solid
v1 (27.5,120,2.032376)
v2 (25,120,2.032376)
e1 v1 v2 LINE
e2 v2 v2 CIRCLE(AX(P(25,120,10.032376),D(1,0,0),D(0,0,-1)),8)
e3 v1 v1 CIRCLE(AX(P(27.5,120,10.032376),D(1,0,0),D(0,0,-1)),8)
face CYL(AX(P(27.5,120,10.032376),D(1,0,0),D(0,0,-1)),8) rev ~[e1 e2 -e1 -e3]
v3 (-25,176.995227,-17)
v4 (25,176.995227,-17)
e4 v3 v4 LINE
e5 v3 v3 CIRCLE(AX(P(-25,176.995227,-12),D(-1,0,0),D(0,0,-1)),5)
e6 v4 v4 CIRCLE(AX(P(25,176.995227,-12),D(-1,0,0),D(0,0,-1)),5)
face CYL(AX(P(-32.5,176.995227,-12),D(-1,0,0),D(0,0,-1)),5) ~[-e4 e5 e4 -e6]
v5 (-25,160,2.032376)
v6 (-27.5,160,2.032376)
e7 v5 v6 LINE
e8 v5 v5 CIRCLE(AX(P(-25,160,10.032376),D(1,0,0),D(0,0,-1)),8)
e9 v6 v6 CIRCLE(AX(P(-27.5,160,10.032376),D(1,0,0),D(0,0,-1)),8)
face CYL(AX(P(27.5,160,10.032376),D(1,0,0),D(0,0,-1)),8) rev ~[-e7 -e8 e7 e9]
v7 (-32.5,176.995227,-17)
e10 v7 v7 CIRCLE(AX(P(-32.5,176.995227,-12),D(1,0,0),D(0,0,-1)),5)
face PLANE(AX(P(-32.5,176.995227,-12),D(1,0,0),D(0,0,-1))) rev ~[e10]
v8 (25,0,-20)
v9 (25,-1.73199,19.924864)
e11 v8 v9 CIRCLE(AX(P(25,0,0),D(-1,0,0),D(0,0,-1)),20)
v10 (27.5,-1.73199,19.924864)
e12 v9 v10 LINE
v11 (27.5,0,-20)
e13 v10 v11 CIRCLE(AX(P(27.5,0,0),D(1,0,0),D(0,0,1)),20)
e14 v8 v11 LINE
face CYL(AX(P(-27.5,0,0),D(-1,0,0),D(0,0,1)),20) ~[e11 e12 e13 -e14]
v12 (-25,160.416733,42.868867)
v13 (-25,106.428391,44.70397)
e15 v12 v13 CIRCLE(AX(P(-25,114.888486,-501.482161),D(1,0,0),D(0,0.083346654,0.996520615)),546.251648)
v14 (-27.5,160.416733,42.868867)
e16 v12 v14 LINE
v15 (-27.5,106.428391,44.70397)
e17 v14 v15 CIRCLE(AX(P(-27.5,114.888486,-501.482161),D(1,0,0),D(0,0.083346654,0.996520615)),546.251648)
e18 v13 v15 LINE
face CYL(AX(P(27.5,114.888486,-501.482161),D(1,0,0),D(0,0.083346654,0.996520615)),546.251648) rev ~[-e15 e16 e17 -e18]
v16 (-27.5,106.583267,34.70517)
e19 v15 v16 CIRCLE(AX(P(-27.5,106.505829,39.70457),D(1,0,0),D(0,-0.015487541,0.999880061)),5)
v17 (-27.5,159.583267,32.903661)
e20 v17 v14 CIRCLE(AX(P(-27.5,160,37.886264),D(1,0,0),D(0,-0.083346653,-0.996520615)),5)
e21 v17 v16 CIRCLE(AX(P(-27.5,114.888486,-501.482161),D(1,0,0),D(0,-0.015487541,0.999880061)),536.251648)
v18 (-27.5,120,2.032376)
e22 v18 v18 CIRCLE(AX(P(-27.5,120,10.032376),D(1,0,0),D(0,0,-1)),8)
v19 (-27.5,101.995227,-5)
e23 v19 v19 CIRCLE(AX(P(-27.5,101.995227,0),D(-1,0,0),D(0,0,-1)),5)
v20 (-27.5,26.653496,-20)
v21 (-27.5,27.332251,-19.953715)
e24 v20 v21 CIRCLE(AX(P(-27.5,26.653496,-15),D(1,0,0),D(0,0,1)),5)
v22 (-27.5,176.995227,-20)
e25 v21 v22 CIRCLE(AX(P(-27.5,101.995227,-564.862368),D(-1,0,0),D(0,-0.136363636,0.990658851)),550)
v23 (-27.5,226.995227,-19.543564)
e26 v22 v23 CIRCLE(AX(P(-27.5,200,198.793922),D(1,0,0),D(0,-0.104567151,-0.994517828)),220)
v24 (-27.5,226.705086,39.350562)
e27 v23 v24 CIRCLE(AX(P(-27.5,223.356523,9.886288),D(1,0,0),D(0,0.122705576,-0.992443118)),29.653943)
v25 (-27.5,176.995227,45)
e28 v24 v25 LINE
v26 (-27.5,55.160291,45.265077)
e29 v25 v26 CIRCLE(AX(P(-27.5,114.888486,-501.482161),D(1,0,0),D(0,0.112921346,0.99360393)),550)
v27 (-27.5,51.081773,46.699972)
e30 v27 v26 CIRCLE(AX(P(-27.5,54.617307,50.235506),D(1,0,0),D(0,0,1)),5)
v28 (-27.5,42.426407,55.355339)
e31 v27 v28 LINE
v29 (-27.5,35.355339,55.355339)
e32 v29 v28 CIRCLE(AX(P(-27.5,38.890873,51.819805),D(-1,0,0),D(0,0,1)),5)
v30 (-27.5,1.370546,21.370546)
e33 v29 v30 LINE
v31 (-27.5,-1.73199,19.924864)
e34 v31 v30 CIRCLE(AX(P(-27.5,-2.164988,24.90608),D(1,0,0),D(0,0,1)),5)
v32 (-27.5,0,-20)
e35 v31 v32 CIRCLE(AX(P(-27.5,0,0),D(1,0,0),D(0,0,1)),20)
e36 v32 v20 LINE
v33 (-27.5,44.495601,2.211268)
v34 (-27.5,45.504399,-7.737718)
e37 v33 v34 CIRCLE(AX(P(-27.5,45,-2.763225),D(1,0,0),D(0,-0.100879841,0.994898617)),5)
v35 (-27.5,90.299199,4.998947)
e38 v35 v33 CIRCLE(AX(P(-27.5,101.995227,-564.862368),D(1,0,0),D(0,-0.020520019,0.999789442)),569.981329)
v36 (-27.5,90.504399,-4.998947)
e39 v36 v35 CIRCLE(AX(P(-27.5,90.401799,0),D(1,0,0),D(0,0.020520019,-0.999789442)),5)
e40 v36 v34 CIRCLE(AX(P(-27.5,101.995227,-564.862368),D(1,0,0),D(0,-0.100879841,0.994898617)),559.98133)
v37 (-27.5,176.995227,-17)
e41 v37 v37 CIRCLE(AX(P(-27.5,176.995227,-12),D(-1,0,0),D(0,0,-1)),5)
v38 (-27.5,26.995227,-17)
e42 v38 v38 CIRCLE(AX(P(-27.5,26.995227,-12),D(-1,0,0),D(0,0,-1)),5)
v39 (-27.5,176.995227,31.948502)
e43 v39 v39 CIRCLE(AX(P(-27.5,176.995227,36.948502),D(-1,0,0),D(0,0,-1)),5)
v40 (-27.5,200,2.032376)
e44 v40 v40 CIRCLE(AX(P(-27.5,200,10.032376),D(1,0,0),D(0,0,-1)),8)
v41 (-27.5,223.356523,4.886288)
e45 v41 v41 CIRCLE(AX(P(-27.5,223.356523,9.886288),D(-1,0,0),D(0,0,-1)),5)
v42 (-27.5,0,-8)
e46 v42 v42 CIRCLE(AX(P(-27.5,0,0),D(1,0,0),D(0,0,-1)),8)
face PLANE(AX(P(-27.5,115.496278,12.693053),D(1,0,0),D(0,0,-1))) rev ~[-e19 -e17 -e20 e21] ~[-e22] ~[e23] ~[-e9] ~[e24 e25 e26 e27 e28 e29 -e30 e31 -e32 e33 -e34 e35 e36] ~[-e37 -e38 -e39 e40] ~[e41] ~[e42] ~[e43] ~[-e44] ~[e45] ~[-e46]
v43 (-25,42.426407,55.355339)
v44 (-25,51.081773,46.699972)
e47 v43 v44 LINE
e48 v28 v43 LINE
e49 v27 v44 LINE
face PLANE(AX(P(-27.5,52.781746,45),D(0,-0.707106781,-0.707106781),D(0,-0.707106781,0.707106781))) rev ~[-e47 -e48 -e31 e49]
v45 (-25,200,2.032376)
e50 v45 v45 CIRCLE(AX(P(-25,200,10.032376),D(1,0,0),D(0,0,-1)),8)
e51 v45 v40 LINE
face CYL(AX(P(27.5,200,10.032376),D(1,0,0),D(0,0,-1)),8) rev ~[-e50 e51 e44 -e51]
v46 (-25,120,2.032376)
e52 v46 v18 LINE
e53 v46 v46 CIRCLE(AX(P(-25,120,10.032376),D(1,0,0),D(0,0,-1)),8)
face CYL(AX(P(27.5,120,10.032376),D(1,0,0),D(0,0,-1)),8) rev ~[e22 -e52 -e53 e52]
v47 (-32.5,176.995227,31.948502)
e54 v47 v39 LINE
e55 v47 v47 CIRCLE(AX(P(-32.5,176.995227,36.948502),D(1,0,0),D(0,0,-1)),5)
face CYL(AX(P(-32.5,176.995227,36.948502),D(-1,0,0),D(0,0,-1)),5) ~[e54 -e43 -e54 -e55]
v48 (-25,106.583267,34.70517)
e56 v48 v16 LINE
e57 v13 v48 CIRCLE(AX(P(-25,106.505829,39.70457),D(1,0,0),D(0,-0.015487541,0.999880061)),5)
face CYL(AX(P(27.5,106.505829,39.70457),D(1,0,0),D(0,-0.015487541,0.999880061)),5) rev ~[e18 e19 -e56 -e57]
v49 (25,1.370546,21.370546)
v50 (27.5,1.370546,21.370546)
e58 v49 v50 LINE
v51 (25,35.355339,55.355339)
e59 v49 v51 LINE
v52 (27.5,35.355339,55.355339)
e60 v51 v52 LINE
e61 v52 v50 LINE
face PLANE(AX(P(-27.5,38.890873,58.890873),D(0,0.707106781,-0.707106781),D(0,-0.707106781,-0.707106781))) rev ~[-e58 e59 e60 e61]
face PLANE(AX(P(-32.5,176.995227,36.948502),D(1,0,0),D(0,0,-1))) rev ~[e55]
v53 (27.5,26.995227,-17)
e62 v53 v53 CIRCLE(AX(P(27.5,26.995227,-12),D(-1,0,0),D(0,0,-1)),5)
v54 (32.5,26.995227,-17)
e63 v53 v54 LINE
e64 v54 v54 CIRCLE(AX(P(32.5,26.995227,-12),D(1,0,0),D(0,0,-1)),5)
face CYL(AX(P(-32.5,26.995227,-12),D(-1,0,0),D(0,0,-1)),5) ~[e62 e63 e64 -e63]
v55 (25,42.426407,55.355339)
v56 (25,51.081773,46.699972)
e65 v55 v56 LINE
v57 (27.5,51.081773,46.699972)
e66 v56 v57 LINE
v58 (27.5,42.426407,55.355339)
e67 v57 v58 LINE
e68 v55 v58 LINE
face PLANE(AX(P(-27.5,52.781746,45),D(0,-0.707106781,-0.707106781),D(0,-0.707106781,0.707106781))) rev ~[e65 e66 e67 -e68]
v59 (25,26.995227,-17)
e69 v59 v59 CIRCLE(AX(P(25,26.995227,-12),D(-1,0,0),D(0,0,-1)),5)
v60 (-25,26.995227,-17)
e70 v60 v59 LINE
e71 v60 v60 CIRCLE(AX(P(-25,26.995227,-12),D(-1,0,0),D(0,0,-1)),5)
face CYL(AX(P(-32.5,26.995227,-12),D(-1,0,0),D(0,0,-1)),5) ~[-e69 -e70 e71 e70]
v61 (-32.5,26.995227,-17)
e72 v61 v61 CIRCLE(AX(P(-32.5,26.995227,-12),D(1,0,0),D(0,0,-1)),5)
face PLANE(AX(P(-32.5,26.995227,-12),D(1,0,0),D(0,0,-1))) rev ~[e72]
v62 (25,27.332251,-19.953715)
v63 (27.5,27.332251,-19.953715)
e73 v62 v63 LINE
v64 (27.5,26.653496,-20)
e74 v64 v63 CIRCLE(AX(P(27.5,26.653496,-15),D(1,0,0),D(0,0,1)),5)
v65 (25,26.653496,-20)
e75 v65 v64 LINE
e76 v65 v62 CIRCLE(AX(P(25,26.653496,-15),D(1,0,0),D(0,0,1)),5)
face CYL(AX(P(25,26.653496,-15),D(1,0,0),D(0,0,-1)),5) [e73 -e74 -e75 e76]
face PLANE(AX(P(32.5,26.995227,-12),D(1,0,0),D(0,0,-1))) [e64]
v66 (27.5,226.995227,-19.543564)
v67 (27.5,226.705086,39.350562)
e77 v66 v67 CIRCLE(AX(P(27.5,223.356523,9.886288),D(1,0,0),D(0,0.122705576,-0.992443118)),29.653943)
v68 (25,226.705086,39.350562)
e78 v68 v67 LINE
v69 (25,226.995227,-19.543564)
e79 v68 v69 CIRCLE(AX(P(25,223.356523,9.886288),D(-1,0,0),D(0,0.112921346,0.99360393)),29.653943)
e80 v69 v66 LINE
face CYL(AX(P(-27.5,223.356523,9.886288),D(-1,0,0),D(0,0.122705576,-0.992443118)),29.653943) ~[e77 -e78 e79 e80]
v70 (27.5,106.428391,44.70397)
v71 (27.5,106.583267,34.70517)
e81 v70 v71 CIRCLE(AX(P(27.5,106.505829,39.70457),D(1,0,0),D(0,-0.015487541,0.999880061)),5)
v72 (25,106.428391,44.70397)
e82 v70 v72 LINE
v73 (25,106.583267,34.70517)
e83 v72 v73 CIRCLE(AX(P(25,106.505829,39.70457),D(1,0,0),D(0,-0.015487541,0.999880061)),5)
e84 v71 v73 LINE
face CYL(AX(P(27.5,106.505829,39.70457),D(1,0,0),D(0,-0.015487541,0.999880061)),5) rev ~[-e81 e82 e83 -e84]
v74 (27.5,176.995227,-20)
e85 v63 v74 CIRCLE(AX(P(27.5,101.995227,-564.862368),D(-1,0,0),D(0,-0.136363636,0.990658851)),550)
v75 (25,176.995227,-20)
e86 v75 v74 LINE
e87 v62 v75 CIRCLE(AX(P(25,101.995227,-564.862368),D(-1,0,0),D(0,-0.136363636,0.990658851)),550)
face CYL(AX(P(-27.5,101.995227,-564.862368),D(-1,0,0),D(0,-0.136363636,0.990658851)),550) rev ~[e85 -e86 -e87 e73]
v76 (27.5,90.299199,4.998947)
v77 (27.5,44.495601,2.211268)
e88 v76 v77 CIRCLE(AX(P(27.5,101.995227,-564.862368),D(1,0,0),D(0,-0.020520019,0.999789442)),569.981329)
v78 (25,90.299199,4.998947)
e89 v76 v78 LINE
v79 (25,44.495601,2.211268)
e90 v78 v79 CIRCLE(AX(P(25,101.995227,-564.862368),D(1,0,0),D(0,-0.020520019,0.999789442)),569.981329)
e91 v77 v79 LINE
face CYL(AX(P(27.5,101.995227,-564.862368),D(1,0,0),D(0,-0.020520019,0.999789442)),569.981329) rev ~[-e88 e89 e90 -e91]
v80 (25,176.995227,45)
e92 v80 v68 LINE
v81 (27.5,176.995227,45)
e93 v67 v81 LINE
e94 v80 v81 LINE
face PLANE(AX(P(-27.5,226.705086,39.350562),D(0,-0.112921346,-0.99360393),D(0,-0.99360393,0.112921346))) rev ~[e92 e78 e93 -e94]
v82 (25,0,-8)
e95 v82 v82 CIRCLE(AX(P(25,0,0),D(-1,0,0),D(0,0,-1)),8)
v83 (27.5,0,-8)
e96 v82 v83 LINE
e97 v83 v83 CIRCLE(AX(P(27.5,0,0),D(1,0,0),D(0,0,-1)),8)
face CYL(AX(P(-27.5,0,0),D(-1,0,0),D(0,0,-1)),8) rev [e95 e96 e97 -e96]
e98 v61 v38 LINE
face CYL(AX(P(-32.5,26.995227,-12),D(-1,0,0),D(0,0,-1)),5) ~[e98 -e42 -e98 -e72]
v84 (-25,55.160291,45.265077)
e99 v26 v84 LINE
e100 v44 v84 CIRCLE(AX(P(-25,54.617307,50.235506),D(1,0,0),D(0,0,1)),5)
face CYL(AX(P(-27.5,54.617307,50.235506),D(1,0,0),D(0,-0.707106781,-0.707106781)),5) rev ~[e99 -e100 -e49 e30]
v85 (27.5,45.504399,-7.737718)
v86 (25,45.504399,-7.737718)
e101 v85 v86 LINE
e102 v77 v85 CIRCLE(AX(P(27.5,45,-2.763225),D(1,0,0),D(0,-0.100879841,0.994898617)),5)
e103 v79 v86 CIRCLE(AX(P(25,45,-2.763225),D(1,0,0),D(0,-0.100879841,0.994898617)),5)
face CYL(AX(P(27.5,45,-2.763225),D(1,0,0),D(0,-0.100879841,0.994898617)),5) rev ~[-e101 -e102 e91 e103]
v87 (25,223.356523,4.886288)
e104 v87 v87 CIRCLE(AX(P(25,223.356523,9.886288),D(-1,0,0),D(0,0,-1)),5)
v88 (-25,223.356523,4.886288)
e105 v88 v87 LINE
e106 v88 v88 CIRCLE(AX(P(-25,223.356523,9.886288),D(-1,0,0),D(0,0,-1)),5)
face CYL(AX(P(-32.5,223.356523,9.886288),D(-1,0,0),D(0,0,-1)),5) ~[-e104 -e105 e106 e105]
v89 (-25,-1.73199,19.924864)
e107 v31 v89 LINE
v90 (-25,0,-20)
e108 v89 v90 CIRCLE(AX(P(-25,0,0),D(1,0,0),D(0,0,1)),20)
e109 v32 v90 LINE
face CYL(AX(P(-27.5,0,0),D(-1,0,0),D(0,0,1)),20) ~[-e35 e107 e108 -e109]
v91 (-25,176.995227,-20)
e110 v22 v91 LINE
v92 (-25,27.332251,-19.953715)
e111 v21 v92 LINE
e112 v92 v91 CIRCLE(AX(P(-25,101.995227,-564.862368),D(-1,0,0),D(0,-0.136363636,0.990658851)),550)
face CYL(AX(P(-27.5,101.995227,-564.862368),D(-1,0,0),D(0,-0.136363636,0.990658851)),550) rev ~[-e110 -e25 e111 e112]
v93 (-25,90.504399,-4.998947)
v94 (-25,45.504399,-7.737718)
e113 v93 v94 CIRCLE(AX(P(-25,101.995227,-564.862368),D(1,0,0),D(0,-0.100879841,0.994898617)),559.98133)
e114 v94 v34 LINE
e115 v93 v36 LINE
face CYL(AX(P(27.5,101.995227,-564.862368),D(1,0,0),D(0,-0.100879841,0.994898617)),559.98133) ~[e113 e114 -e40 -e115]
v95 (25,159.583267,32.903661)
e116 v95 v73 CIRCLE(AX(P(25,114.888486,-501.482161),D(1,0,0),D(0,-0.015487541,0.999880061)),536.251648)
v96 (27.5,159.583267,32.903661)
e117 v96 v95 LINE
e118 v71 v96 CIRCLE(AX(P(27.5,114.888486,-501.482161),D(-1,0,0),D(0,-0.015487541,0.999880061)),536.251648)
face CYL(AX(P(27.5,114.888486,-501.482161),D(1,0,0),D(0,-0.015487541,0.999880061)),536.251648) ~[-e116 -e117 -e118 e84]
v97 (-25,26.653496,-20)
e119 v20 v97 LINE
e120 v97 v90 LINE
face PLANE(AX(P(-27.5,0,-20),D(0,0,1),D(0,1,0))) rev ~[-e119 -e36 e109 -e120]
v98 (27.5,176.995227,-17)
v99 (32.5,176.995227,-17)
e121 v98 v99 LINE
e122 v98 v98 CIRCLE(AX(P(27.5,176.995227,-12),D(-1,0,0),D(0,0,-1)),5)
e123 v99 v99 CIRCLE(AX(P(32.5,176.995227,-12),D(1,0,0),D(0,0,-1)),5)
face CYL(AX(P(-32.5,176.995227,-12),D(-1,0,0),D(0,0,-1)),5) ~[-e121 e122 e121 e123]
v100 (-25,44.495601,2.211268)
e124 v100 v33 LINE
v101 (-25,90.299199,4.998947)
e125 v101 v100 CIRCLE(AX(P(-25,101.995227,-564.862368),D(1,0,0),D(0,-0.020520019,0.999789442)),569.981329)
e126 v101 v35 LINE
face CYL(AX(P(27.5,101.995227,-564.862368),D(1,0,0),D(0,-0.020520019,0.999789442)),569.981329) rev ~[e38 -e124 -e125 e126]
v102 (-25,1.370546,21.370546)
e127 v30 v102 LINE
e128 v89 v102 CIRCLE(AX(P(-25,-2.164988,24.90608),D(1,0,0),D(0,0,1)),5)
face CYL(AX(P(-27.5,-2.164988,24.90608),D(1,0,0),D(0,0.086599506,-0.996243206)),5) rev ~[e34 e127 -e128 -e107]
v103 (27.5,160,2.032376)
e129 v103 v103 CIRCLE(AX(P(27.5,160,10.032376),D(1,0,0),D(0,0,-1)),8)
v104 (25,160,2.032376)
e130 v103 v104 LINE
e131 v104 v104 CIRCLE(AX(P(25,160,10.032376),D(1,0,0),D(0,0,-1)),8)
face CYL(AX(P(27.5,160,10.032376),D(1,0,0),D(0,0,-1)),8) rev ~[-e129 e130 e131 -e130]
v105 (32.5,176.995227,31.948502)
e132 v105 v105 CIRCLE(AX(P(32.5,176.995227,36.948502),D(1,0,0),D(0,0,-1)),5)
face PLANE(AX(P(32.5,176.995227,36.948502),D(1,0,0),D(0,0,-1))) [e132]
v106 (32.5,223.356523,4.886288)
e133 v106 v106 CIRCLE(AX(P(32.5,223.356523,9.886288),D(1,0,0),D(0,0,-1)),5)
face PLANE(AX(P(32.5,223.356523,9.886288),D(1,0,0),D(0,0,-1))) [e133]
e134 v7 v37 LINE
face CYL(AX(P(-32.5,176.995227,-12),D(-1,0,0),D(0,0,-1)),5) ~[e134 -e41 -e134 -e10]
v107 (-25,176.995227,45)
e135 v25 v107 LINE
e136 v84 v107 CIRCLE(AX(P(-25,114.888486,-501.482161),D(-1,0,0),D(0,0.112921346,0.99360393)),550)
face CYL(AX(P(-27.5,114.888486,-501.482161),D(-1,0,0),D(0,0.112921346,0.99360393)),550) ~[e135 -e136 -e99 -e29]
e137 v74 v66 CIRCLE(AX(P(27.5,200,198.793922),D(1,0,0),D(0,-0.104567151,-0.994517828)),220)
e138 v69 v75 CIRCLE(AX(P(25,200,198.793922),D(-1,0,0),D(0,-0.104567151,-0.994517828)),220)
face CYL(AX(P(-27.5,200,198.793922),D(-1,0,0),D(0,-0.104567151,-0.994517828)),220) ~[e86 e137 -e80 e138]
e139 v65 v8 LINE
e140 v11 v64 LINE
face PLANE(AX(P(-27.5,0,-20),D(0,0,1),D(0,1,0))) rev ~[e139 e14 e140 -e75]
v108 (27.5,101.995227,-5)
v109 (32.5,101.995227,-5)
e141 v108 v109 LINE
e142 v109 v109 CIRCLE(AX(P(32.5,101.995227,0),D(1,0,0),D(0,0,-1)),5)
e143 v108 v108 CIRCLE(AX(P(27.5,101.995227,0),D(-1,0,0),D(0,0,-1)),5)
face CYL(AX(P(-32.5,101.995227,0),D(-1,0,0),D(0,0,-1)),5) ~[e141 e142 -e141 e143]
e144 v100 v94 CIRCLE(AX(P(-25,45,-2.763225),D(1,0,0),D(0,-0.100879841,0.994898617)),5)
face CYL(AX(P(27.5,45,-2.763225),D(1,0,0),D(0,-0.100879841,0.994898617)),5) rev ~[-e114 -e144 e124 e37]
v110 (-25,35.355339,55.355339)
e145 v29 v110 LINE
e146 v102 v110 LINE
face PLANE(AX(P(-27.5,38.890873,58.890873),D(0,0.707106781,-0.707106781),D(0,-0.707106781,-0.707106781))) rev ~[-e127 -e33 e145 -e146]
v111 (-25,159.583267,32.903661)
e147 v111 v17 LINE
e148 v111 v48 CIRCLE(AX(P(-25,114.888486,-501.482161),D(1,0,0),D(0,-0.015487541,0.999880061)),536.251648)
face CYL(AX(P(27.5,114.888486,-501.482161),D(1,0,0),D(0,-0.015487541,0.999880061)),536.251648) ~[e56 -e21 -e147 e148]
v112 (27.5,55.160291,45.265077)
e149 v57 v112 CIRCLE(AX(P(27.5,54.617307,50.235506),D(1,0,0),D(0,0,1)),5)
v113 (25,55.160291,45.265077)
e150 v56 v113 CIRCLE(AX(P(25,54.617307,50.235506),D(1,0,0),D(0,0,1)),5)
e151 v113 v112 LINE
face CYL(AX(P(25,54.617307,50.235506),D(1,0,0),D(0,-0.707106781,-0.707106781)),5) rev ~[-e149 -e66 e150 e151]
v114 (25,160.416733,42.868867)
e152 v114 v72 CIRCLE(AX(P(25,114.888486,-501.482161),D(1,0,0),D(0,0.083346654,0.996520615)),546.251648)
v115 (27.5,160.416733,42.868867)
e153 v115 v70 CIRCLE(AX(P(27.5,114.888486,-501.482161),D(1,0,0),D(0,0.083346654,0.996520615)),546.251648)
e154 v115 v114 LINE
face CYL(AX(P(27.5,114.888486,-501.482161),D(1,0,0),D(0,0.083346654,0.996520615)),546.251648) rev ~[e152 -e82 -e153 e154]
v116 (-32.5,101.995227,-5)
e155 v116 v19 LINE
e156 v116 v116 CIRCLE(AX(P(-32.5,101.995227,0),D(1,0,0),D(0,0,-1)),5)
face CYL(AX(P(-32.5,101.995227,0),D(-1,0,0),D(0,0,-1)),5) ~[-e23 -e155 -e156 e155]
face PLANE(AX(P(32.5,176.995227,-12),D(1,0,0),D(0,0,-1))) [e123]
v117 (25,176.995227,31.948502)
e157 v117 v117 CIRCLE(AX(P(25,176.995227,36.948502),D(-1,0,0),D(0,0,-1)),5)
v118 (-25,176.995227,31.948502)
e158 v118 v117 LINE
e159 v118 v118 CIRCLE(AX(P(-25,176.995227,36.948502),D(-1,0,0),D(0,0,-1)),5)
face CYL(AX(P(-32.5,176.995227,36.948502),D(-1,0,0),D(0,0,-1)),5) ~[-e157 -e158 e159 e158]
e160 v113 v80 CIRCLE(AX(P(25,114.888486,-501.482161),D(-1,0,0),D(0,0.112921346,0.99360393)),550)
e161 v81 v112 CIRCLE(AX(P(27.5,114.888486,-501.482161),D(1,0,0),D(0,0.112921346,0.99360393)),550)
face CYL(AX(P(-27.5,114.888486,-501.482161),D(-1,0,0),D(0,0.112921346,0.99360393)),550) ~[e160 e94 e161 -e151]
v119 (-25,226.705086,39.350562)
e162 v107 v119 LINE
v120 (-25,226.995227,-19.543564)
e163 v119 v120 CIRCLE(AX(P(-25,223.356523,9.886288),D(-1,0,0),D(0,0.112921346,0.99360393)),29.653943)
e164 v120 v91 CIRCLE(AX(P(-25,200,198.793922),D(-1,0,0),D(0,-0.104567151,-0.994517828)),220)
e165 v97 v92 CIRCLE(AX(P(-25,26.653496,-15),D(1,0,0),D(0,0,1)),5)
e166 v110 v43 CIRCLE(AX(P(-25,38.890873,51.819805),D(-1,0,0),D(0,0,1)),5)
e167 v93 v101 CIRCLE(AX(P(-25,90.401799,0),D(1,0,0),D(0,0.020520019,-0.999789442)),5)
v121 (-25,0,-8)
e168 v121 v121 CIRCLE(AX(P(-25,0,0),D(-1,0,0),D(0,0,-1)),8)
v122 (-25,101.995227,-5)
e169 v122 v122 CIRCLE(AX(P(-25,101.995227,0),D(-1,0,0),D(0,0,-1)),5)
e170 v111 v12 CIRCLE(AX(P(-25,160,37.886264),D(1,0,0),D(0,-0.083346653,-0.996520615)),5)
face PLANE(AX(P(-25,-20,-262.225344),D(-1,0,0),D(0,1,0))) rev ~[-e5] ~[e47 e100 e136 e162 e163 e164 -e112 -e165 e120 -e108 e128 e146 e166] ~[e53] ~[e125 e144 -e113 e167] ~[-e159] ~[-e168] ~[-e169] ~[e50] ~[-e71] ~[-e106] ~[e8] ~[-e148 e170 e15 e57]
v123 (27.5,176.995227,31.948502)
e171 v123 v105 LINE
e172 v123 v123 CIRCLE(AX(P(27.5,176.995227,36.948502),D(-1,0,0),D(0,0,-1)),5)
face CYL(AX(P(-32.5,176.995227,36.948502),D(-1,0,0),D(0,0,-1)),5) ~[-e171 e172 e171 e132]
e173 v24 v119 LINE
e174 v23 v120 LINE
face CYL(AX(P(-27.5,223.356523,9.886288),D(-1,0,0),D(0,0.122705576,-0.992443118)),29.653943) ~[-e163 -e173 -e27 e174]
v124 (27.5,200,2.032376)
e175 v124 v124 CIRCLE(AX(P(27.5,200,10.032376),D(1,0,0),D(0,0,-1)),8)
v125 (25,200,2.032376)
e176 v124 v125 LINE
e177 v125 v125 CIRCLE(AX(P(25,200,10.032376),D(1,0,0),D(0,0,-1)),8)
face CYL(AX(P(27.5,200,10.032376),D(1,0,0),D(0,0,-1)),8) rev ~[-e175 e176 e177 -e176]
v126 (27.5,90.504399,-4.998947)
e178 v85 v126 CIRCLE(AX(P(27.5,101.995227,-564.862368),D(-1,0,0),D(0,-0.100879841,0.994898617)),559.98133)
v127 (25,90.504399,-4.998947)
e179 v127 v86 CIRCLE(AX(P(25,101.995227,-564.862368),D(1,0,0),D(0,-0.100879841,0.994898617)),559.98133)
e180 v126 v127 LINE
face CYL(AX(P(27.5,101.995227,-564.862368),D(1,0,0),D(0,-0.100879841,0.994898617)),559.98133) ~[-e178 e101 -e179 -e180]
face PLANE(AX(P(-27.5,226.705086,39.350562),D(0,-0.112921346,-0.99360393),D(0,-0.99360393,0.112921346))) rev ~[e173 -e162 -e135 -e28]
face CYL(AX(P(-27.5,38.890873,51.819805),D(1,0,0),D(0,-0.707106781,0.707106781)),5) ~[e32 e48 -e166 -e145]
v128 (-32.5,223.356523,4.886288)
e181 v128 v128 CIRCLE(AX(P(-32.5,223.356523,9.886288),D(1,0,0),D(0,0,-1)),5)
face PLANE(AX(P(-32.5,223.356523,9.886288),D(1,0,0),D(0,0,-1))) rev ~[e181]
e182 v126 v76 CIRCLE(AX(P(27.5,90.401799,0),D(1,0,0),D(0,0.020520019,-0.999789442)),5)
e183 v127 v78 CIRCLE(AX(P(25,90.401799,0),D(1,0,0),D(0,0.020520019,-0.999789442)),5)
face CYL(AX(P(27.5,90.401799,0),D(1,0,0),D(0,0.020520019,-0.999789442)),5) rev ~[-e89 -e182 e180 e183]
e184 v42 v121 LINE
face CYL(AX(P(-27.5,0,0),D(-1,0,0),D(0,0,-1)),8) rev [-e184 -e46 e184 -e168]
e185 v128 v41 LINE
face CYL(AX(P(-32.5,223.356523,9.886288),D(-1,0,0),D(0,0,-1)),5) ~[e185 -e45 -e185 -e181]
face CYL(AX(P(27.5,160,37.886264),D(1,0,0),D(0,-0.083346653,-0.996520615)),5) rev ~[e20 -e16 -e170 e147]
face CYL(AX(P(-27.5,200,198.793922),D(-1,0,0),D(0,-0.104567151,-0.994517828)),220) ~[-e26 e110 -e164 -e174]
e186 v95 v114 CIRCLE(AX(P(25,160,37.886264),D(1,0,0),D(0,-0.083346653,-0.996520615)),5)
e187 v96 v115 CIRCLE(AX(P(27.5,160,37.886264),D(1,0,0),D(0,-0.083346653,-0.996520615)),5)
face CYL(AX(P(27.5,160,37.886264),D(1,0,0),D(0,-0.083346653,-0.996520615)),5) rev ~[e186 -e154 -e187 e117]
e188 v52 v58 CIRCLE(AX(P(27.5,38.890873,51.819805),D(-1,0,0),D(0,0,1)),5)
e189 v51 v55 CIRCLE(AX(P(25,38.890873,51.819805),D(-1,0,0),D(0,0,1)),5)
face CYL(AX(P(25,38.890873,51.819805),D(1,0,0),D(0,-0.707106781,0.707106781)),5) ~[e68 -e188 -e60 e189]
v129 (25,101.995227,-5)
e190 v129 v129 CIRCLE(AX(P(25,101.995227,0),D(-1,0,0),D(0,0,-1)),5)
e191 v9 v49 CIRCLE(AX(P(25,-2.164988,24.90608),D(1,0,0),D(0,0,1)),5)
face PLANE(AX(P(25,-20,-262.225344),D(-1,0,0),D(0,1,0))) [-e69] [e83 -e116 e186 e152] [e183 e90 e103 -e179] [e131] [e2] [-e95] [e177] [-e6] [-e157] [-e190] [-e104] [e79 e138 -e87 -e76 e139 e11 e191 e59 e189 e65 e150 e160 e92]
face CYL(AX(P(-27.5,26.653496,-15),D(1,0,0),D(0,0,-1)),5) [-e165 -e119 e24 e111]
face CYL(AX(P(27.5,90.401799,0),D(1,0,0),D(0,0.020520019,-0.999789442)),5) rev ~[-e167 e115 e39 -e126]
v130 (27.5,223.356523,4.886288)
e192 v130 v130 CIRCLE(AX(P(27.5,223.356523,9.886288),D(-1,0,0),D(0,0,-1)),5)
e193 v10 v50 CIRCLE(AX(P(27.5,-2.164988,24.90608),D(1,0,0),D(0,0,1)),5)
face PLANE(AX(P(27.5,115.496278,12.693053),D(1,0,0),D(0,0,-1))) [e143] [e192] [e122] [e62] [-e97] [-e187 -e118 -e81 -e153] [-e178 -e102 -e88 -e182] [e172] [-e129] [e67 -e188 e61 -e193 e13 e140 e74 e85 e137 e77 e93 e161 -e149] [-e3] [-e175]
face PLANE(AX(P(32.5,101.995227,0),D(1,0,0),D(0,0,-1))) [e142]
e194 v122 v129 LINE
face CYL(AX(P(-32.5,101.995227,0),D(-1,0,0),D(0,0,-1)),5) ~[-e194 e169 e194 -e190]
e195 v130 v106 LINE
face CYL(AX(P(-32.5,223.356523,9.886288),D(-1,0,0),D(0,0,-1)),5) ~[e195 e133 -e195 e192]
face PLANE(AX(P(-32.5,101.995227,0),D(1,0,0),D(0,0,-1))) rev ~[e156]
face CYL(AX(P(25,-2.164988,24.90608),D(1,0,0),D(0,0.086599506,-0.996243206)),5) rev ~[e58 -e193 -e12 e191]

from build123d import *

# Parameters (mm, degrees)
DODANIE_WYCI_GNI_CIE1_DEPTH      = 27.5
DODANIE_WYCI_GNI_CIE1_DEPTH_BACK = 27.5
SZKIC1_R                         = 8
WYTNIJ_WYCI_GNI_CIE3_DEPTH       = 262.225344217
WYTNIJ_WYCI_GNI_CIE3_DEPTH_BACK  = 262.225344217
SZKIC2_W                         = 50
SZKIC2_H                         = 271.010465283
DODANIE_WYCI_GNI_CIE2_DEPTH      = 32.5
DODANIE_WYCI_GNI_CIE2_DEPTH_BACK = 32.5
SZKIC4_R                         = 5
WYTNIJ_WYCI_GNI_CIE4_DEPTH       = 262.79893136
WYTNIJ_WYCI_GNI_CIE4_DEPTH_BACK  = 262.79893136
SZKIC5_W                         = 50
SZKIC5_H                         = 2
SZKIC7_R                         = 8
WYTNIJ_WYCI_GNI_CIE5_DEPTH       = 267.612885025
ZAOKR_GLENIE1_R                  = 5


with BuildPart() as part:
    # Szkic1 → Dodanie-wyciągnięcie1 (new, two sides: drawn at the far end of the back side and taken through both)
    with BuildSketch(Plane(origin=(0, 0, 0), x_dir=(0, 0, -1), z_dir=(1, 0, 0)).offset(-DODANIE_WYCI_GNI_CIE1_DEPTH_BACK)):
        with BuildLine():
            Line((20, 0), (20, 26.995226764))
            ThreePointArc((20, 26.995226764), (14.862367943, 101.995226764), (20, 176.995226764))
            ThreePointArc((20, 176.995226764), (21.196911631, 202.008236386), (19.543563623, 226.995226764))
            ThreePointArc((19.543563623, 226.995226764), (-10.032375571, 253.010105435), (-39.350561597, 226.705085769))
            Line((-39.350561597, 226.705085769), (-45, 176.995226764))
            ThreePointArc((-45, 176.995226764), (-48.517838539, 114.888486347), (-45, 52.781745931))
            Line((-45, 52.781745931), (-58.890872965, 38.890872965))
            Line((-58.890872965, 38.890872965), (-20, 0))
            ThreePointArc((-20, 0), (0, -20), (20, 0))
        make_face()
        Circle(SZKIC1_R, mode=Mode.SUBTRACT)
    extrude(amount=DODANIE_WYCI_GNI_CIE1_DEPTH + DODANIE_WYCI_GNI_CIE1_DEPTH_BACK)

    # Szkic2 → Wytnij-wyciągnięcie3 (cut, two sides: drawn at the far end of the back side and taken through both)
    with BuildSketch(Plane.XY.offset(-WYTNIJ_WYCI_GNI_CIE3_DEPTH_BACK)):
        with Locations((0, 115.505232642)):
            Rectangle(SZKIC2_W, SZKIC2_H)
    extrude(amount=WYTNIJ_WYCI_GNI_CIE3_DEPTH + WYTNIJ_WYCI_GNI_CIE3_DEPTH_BACK, mode=Mode.SUBTRACT)

    # Szkic4 → Dodanie-wyciągnięcie2 (add, two sides: drawn at the far end of the back side and taken through both)
    with BuildSketch(Plane(origin=(0, 0, 0), x_dir=(0, 0, -1), z_dir=(1, 0, 0)).offset(-DODANIE_WYCI_GNI_CIE2_DEPTH_BACK)):
        with Locations((12, 26.995226764)):
            Circle(SZKIC4_R)
        with Locations((0, 101.995226764)):
            Circle(SZKIC4_R)
        with Locations((12, 176.995226764)):
            Circle(SZKIC4_R)
        with Locations((-36.948502055, 176.995226764)):
            Circle(SZKIC4_R)
        with Locations((-9.886287655, 223.356522646)):
            Circle(SZKIC4_R)
    extrude(amount=DODANIE_WYCI_GNI_CIE2_DEPTH + DODANIE_WYCI_GNI_CIE2_DEPTH_BACK)

    # Szkic5 → Wytnij-wyciągnięcie4 (cut, two sides: drawn at the far end of the back side and taken through both)
    with BuildSketch(Plane.XY.offset(-WYTNIJ_WYCI_GNI_CIE4_DEPTH_BACK)):
        with Locations((0, 252.010465283)):
            Rectangle(SZKIC5_W, SZKIC5_H)
    extrude(amount=WYTNIJ_WYCI_GNI_CIE4_DEPTH + WYTNIJ_WYCI_GNI_CIE4_DEPTH_BACK, mode=Mode.SUBTRACT)

    # Szkic7 → Wytnij-wyciągnięcie5 (cut, through all)
    with BuildSketch(Plane(origin=(27.5, 0, 0), x_dir=(0, 0, -1), z_dir=(1, 0, 0))):
        with Locations((-10.032375571, 200)):
            Circle(SZKIC7_R)
        with Locations((-10.032375571, 160)):
            Circle(SZKIC7_R)
        with Locations((-10.032375571, 120)):
            Circle(SZKIC7_R)
        with BuildLine():
            ThreePointArc((-42.868867151, 160.416733268), (-44.454199067, 133.445260635), (-44.703970192, 106.428391318))
            ThreePointArc((-44.703970192, 106.428391318), (-39.627132181, 101.506428721), (-34.705169584, 106.583266732))
            ThreePointArc((-34.705169584, 106.583266732), (-34.459970914, 133.105549545), (-32.903661004, 159.583266732))
            ThreePointArc((-32.903661004, 159.583266732), (-37.46953081, 164.982603073), (-42.868867151, 160.416733268))
        make_face()
        with BuildLine():
            ThreePointArc((-4.998947211, 90.299199015), (-4.066241956, 67.369334541), (-2.211268005, 44.495600794))
            ThreePointArc((-2.211268005, 44.495600794), (3.267624284, 40.025506916), (7.737718162, 45.504399206))
            ThreePointArc((7.737718162, 45.504399206), (5.91528868, 67.976826233), (4.998947211, 90.504399206))
            ThreePointArc((4.998947211, 90.504399206), (-0.102600095, 95.400746322), (-4.998947211, 90.299199015))
        make_face()
    extrude(amount=-WYTNIJ_WYCI_GNI_CIE5_DEPTH, mode=Mode.SUBTRACT)

    # Zaokrąglenie1
    zaokr_glenie1_edges = [part.edges().sort_by_distance(p)[0] for p in [
        (-26.25, 0, 20),
        (-26.25, 38.890872965, 58.890872965),
        (-26.25, 52.781745931, 45),
        (-26.25, 26.995226764, -20),
        (26.25, 26.995226764, -20),
        (26.25, 52.781745931, 45),
        (26.25, 38.890872965, 58.890872965),
        (26.25, 0, 20),
    ]]
    fillet(zaokr_glenie1_edges, radius=ZAOKR_GLENIE1_R)


solid = part.part
